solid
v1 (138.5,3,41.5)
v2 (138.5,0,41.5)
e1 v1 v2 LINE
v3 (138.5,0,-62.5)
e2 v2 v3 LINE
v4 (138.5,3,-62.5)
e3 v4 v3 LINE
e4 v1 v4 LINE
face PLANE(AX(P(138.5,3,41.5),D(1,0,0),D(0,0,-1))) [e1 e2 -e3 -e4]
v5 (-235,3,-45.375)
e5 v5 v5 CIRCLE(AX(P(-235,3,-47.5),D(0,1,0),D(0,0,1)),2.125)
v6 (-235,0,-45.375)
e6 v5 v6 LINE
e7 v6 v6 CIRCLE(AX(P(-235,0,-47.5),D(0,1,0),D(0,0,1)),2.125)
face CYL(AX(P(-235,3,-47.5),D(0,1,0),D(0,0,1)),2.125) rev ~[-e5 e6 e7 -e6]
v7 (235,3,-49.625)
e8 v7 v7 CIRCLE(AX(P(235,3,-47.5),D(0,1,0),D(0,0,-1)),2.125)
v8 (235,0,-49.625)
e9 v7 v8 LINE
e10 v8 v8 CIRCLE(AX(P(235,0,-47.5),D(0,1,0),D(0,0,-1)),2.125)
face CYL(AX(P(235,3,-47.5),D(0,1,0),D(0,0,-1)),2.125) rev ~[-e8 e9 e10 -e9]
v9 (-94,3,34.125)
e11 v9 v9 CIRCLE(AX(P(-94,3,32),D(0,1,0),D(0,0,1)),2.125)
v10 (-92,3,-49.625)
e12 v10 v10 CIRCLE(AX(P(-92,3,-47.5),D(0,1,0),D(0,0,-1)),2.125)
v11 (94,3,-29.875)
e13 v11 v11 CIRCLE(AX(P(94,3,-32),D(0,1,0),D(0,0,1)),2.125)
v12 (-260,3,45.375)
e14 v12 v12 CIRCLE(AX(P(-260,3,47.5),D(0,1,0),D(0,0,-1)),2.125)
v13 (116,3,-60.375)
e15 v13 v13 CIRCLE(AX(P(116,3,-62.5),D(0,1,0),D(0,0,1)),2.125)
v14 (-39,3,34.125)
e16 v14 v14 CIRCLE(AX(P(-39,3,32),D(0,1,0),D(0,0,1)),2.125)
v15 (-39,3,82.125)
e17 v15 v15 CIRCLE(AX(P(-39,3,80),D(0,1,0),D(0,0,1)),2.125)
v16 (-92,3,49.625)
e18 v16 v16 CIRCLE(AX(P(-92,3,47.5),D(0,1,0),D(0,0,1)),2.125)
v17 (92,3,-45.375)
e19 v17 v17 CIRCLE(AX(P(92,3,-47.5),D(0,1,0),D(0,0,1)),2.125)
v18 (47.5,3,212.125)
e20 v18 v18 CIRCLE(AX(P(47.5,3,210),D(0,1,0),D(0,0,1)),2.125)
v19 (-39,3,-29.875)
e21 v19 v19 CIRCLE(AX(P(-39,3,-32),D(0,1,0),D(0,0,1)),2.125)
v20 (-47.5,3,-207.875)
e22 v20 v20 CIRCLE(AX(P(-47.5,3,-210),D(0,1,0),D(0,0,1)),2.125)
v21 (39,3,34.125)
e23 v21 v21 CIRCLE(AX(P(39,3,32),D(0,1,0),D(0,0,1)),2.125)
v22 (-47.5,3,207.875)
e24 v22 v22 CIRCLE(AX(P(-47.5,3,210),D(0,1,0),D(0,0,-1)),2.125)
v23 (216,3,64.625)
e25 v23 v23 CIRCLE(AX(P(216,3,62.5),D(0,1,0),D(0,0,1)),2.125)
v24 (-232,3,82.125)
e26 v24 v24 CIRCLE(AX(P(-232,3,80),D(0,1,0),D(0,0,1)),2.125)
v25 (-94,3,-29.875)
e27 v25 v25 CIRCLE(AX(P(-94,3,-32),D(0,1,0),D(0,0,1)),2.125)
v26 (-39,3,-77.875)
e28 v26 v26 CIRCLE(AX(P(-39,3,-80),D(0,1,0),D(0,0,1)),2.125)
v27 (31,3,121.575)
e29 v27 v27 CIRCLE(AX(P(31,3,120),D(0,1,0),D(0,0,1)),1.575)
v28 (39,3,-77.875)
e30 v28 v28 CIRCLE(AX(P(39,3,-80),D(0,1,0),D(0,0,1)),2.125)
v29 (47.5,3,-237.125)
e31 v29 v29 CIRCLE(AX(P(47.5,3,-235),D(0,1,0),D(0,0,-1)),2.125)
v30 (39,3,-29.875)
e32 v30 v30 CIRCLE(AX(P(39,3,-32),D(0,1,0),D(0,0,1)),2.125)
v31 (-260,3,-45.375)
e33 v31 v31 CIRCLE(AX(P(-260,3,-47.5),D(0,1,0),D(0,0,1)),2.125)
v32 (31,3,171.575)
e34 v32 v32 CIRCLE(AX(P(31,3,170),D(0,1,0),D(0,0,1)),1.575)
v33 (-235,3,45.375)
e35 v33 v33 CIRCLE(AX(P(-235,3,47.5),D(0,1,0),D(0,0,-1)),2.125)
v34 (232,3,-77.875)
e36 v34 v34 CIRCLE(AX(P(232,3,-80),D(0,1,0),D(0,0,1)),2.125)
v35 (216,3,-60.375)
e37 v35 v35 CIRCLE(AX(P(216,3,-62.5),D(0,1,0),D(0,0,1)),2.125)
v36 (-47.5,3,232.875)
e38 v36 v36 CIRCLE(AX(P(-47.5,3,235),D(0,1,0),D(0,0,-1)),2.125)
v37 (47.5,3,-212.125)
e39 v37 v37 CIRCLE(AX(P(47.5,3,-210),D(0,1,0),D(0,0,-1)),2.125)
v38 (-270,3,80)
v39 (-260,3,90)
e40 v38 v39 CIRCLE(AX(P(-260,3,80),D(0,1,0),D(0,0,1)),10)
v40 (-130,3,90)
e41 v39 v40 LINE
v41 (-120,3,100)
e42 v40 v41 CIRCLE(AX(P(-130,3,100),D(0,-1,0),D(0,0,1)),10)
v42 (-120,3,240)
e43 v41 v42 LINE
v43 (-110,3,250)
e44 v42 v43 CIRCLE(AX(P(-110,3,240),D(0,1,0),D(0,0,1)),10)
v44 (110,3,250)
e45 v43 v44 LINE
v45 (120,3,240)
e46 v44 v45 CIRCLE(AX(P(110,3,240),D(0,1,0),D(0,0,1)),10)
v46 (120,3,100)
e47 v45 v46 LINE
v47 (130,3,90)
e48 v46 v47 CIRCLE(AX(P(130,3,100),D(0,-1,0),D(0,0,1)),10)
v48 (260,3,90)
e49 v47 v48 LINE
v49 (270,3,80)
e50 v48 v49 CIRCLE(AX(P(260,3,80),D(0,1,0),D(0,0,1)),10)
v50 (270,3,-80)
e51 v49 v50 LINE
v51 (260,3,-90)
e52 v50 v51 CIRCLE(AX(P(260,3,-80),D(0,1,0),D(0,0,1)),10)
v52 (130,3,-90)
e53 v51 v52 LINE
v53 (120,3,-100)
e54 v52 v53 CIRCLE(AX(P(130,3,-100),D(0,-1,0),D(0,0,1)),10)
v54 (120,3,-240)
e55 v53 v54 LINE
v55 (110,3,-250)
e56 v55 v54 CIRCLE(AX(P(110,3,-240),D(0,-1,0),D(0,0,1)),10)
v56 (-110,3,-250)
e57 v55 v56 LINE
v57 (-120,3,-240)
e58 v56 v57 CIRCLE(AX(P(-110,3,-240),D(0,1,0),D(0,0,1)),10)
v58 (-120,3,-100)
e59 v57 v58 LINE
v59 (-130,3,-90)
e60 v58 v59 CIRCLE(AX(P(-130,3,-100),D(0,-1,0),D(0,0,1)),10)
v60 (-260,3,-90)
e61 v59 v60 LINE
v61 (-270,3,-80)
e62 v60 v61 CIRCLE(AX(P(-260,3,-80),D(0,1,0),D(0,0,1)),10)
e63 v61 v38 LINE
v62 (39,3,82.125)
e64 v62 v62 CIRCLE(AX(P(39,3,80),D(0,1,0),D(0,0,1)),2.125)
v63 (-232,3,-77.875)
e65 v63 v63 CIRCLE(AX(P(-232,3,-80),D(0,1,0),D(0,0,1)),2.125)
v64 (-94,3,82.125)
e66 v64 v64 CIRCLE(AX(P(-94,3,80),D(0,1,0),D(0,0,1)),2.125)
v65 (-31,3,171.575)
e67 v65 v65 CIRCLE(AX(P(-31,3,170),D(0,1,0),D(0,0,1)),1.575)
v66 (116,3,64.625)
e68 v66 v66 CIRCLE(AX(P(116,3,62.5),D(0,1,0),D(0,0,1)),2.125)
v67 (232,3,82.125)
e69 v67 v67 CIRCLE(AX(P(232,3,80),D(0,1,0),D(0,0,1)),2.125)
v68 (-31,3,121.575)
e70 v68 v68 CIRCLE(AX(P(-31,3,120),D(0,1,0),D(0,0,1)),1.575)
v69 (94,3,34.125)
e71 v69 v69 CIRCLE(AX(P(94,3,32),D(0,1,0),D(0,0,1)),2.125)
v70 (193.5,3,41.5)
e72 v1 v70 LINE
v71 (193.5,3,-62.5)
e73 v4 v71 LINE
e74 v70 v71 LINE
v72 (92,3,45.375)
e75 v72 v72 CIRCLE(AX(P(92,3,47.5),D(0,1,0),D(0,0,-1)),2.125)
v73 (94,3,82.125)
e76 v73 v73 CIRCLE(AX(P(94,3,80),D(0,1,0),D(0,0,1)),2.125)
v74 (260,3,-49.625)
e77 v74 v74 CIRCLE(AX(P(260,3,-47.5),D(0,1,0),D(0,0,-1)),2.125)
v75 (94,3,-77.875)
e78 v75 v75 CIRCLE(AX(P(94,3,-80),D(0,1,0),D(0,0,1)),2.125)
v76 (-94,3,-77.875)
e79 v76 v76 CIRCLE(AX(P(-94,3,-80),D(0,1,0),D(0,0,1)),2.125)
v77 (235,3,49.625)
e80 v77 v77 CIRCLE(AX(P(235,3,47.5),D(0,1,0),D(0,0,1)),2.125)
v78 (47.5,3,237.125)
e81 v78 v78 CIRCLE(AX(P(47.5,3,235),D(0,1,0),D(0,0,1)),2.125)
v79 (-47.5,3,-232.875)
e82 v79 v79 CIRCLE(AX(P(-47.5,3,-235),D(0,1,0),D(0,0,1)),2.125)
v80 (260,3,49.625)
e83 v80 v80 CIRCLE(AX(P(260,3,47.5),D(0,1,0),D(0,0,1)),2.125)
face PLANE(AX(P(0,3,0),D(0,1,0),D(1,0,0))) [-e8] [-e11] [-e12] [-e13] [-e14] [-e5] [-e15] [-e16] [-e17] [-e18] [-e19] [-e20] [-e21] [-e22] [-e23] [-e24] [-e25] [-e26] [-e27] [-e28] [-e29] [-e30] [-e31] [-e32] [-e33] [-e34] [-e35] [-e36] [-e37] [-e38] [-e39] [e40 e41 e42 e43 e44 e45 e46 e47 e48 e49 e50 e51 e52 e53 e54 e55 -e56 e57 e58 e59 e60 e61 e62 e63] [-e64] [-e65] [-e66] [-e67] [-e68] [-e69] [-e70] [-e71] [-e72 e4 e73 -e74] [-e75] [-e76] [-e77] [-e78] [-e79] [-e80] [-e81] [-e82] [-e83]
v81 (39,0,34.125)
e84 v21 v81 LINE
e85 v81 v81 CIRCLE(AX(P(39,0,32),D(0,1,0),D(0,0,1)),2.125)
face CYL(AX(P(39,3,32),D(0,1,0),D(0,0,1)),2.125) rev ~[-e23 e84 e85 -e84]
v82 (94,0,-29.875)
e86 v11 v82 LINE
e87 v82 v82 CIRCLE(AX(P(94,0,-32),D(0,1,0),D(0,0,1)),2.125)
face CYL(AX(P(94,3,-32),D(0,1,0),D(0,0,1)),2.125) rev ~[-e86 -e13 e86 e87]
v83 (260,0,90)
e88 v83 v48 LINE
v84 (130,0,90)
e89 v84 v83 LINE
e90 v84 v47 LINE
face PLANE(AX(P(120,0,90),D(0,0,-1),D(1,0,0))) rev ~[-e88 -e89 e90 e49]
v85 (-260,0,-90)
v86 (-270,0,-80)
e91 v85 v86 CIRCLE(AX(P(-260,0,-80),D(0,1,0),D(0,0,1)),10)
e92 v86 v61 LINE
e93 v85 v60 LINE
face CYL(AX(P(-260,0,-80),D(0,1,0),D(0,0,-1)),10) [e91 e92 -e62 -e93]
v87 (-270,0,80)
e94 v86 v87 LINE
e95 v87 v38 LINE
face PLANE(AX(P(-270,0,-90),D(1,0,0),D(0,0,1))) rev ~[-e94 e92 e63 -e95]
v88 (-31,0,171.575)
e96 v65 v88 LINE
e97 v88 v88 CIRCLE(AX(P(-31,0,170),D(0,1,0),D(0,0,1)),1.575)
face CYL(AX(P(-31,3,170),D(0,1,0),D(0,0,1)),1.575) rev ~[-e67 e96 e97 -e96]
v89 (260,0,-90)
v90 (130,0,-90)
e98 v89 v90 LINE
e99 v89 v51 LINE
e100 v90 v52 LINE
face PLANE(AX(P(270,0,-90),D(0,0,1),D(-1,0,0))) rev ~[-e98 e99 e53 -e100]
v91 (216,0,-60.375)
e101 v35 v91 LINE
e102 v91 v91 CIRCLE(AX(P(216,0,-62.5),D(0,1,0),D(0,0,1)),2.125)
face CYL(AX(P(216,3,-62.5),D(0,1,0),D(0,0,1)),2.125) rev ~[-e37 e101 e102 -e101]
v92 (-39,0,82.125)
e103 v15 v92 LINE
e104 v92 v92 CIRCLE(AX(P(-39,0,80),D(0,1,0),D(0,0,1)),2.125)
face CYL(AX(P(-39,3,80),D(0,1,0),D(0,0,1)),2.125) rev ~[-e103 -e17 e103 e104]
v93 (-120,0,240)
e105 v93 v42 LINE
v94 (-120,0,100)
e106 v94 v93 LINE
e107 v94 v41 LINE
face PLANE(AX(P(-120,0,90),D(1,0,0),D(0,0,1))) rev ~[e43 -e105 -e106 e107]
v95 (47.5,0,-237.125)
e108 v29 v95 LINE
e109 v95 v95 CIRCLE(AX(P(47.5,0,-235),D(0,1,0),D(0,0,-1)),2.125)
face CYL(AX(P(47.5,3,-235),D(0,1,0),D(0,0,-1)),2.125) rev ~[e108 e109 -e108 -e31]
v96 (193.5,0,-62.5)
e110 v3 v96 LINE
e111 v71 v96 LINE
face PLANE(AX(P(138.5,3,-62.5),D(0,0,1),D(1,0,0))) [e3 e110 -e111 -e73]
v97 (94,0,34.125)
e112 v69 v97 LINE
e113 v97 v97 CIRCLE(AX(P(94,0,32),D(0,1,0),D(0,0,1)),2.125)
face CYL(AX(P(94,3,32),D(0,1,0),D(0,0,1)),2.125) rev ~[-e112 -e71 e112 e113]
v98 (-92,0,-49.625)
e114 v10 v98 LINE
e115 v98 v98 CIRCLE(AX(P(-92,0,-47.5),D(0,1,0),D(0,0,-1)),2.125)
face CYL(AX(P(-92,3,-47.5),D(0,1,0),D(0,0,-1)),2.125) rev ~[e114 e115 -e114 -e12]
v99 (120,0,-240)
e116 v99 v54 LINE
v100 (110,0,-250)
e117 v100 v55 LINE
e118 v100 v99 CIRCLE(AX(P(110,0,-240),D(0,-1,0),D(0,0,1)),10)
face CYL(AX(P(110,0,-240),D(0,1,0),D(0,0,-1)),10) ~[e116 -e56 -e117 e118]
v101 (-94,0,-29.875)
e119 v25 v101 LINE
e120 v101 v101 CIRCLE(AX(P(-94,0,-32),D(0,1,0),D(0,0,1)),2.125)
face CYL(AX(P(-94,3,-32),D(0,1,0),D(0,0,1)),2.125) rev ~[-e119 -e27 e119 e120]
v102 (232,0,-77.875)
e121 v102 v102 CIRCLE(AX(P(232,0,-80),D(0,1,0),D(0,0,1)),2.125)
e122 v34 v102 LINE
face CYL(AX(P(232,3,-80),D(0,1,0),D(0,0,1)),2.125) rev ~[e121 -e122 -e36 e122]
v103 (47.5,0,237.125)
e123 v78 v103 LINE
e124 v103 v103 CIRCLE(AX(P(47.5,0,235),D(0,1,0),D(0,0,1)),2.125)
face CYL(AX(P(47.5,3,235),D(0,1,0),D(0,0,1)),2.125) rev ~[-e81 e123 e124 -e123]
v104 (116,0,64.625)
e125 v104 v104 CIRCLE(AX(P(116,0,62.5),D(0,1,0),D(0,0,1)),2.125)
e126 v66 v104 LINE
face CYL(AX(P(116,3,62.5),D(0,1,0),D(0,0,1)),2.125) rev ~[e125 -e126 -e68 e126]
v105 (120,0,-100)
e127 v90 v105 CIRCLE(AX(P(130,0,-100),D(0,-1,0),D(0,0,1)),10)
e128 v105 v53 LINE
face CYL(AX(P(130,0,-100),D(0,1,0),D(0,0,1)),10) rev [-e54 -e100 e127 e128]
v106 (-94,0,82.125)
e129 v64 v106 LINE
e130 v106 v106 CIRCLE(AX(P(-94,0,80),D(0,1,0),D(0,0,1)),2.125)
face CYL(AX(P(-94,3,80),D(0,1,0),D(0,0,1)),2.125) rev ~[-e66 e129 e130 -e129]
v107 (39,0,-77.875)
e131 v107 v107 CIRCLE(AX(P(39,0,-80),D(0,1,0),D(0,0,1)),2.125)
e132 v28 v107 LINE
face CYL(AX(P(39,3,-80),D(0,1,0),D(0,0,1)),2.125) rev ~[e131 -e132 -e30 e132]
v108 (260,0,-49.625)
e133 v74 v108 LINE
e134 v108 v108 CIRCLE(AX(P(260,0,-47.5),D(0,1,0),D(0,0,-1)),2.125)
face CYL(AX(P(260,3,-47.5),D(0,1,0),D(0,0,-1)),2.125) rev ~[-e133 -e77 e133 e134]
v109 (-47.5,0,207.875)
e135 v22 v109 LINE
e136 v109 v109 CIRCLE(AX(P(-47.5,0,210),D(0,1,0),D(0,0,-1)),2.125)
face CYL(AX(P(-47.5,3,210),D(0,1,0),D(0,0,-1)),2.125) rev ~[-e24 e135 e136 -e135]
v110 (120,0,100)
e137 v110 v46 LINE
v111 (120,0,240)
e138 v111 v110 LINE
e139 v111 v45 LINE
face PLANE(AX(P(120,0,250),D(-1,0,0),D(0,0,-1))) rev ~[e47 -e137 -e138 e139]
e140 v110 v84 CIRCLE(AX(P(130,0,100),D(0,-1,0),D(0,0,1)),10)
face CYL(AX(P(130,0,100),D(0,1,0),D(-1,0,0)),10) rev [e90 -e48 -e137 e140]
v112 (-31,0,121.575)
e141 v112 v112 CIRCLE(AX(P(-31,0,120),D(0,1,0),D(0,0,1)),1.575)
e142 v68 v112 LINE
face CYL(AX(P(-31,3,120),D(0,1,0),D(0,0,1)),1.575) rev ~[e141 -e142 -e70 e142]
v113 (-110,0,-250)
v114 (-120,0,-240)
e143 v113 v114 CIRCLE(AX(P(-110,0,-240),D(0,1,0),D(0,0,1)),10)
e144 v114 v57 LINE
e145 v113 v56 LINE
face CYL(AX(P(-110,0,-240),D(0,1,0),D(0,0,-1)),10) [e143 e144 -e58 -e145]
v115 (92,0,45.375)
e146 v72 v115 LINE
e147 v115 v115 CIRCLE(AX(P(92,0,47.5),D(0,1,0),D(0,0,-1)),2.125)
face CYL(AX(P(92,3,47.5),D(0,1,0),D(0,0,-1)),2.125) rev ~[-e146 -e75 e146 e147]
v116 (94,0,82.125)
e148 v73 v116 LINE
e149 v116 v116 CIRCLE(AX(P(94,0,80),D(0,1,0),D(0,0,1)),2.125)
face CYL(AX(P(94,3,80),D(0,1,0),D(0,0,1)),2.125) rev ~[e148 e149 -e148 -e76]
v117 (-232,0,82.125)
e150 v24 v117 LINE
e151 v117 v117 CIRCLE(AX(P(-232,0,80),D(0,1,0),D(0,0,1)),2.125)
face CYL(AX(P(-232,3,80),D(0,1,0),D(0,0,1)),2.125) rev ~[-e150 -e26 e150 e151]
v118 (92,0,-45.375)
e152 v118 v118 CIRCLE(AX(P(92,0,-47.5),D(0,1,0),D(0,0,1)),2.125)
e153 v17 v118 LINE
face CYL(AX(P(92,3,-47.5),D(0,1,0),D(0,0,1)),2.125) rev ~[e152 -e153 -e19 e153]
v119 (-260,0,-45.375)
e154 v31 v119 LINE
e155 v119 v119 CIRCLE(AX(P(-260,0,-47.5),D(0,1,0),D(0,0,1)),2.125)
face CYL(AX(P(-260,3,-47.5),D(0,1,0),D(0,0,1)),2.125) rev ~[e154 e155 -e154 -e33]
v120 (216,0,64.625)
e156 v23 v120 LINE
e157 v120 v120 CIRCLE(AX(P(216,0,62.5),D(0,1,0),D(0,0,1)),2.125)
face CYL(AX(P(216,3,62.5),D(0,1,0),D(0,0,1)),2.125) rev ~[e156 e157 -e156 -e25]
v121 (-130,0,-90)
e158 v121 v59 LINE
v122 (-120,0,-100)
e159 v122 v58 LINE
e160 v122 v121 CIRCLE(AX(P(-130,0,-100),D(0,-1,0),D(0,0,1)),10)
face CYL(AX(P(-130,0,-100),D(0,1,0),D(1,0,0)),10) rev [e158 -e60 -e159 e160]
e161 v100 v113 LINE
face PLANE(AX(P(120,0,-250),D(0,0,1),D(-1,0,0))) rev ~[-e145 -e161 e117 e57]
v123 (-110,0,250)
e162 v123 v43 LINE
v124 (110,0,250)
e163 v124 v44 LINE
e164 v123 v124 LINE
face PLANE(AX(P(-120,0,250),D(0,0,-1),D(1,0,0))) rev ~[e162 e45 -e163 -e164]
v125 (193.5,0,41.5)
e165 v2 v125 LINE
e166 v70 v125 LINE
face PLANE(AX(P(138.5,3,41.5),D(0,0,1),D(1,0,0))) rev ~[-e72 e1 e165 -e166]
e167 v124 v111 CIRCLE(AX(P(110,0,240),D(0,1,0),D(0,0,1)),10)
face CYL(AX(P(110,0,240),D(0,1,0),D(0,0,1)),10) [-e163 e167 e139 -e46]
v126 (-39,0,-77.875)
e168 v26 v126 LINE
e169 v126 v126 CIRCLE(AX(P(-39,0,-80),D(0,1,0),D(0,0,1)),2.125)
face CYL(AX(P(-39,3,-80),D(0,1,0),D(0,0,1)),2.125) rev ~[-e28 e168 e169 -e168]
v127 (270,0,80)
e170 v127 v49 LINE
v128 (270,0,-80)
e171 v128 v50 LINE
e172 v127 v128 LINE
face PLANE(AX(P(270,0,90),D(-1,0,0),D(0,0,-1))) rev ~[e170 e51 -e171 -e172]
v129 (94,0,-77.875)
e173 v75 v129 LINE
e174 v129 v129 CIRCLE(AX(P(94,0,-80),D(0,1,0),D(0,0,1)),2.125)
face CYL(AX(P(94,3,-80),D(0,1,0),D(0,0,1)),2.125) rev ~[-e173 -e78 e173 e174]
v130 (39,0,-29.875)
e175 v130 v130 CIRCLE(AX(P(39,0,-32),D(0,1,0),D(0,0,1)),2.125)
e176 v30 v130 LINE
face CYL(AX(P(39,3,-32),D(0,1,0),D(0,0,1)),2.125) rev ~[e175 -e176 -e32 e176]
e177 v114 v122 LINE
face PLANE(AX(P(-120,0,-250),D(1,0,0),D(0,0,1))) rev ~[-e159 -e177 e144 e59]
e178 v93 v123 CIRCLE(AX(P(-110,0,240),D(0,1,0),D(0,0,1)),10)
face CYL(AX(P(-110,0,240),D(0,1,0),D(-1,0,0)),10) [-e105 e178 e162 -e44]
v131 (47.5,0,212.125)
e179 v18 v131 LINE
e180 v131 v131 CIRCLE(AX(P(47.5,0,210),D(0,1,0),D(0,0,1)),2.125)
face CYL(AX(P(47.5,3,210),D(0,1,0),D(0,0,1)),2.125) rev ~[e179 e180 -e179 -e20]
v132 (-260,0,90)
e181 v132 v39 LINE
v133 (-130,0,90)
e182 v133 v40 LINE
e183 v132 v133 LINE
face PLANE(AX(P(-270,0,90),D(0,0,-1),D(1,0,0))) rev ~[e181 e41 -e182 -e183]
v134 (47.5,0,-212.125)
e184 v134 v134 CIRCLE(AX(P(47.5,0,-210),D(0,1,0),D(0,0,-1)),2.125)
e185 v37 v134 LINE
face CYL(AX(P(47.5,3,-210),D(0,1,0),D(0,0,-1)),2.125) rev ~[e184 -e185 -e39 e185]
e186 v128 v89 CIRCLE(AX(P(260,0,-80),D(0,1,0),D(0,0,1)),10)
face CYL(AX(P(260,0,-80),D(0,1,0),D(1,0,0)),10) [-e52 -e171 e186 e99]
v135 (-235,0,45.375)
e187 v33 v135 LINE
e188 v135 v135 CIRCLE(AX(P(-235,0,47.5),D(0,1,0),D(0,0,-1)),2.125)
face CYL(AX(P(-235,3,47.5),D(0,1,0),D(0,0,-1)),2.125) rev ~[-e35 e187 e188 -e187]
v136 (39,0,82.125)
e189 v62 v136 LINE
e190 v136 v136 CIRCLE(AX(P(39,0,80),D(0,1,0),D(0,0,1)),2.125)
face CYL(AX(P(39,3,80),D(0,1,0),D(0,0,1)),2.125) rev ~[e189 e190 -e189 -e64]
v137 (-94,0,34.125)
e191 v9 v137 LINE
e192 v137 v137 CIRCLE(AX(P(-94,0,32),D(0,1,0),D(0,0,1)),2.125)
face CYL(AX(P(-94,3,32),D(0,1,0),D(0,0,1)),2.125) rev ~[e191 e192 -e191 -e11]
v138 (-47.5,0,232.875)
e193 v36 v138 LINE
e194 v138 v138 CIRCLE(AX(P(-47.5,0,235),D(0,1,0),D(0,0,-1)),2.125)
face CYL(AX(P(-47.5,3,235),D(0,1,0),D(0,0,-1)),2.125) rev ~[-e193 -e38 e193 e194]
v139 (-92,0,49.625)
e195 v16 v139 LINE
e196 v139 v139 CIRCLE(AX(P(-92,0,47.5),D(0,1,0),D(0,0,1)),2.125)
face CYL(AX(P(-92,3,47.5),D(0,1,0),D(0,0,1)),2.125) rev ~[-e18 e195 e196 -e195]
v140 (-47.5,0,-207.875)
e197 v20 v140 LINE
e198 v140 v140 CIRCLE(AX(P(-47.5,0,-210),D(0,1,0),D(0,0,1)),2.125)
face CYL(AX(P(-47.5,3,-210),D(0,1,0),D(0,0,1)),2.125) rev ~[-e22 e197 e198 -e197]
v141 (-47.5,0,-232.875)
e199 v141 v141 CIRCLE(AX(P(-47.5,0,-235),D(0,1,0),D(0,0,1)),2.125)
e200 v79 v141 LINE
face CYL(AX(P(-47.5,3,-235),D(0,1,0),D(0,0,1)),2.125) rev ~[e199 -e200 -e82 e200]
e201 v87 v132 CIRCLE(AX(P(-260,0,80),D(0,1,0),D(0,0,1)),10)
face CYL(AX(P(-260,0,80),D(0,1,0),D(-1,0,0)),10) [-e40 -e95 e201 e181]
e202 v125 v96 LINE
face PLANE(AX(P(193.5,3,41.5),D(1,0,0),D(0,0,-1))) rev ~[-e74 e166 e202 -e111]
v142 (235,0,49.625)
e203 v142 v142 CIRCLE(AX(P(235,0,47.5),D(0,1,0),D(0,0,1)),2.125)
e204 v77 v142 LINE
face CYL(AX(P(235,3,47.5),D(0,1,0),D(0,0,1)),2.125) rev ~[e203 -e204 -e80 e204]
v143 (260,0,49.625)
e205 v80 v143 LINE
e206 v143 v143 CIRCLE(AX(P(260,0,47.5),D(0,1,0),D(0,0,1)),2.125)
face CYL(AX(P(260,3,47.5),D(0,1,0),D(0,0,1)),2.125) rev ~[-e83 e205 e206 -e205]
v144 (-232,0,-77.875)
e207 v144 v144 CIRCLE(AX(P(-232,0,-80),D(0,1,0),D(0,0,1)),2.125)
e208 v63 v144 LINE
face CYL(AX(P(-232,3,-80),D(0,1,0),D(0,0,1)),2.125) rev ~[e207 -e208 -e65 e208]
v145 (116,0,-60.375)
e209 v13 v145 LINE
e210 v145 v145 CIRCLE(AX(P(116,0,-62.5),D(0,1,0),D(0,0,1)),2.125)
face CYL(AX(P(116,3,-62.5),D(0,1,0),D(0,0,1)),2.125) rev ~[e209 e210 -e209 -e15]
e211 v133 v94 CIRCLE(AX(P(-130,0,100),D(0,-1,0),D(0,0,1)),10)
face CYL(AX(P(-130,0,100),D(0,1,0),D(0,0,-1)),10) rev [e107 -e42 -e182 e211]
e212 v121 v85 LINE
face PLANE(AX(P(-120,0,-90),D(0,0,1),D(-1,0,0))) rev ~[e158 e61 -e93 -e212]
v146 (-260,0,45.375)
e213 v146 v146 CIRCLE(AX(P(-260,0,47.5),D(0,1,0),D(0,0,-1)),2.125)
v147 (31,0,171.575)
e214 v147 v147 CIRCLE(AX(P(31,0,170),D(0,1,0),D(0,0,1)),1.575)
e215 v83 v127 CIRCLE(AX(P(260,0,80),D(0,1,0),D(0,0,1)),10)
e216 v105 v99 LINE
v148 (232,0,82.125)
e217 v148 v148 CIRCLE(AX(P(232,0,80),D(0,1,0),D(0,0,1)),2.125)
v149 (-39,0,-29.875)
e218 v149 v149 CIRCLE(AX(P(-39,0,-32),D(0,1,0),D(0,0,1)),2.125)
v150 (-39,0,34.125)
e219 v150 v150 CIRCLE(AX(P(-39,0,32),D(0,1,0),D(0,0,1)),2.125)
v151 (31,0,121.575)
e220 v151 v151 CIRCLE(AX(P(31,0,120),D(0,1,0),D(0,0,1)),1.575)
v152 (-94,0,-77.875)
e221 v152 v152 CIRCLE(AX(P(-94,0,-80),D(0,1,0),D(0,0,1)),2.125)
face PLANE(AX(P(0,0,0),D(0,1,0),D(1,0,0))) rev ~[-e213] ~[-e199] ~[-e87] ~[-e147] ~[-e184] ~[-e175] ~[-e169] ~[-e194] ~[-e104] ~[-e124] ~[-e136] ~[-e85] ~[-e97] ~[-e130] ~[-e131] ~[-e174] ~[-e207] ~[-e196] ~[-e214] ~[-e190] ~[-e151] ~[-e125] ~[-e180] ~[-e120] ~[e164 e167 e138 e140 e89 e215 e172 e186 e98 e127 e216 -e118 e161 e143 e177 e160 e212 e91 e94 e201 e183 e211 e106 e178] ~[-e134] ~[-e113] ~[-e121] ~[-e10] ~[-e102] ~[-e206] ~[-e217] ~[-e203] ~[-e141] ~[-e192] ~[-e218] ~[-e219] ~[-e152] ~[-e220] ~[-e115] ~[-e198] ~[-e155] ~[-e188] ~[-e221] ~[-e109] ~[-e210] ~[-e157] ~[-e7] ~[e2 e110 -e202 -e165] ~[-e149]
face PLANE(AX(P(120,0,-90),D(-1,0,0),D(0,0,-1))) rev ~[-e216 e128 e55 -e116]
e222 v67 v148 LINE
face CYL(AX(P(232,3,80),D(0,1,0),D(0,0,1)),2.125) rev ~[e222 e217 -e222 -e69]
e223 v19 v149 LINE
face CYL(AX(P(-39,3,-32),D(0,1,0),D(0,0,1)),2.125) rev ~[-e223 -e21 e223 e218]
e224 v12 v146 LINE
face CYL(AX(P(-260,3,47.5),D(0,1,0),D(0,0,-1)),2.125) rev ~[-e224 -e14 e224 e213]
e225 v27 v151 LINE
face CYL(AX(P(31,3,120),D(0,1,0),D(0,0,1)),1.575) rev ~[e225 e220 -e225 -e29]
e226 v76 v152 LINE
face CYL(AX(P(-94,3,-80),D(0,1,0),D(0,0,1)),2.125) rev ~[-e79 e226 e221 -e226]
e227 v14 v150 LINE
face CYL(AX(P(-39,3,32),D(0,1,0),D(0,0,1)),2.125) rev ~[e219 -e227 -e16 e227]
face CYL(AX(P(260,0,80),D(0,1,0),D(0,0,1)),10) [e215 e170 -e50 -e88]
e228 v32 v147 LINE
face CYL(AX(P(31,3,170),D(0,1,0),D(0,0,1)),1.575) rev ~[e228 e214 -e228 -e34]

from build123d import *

# Parameters (mm, degrees)
BASE_DEPTH               = 3
FILLET1_R                = 10
SKETCH2_R                = 2.125
ARMOR_MODULE_HOLES_DEPTH = 3
SKETCH3_R                = 2.125
PLATES_FOR_GIMBAL_DEPTH  = 3
SKETCH6_R                = 2.125
SKETCH6_W                = 55
SKETCH6_H                = 104
BATTERY_MOUNT_DEPTH      = 10
SKETCH5_R                = 2.125
SUSPENSION_MOUNT_DEPTH   = 10
SKETCH7_R                = 2.125
OUTER_BOARD_MOUNT_DEPTH  = 10
SKETCH8_R                = 1.575
RFID_DEPTH               = 10


with BuildPart() as part:
    # Sketch1 → Base (new body)
    with BuildSketch(Plane(origin=(0, 0, 0), x_dir=(1, 0, 0), z_dir=(0, 1, 0))):
        Polygon((120, 250), (-120, 250), (-120, 90), (-270, 90), (-270, -90), (-120, -90), (-120, -250), (120, -250), (120, -90), (270, -90), (270, 90), (120, 90), align=None)
    extrude(amount=BASE_DEPTH)

    # Fillet1
    fillet1_edges = [part.edges().sort_by_distance(p)[0] for p in [
        (-270, 1.5, 90),
        (-270, 1.5, -90),
        (-120, 1.5, -90),
        (-120, 1.5, -250),
        (120, 1.5, -250),
        (120, 1.5, -90),
        (270, 1.5, -90),
        (270, 1.5, 90),
        (120, 1.5, 90),
        (120, 1.5, 250),
        (-120, 1.5, 250),
        (-120, 1.5, 90),
    ]]
    fillet(fillet1_edges, radius=FILLET1_R)

    # Sketch2 → Armor Module Holes (cut)
    with BuildSketch(Plane(origin=(0, 3, 0), x_dir=(1, 0, 0), z_dir=(0, 1, 0))):
        with Locations(Location((-47.5, 235, 0), (0, 0, 270))):
            Circle(SKETCH2_R)
        with Locations(Location((-47.5, 210, 0), (0, 0, 270))):
            Circle(SKETCH2_R)
        with Locations(Location((-260, 47.5, 0), (0, 0, 270))):
            Circle(SKETCH2_R)
        with Locations(Location((-235, 47.5, 0), (0, 0, 270))):
            Circle(SKETCH2_R)
        with Locations(Location((-235, -47.5, 0), (0, 0, 90))):
            Circle(SKETCH2_R)
        with Locations(Location((-260, -47.5, 0), (0, 0, 90))):
            Circle(SKETCH2_R)
        with Locations(Location((260, -47.5, 0), (0, 0, 270))):
            Circle(SKETCH2_R)
        with Locations(Location((235, -47.5, 0), (0, 0, 270))):
            Circle(SKETCH2_R)
        with Locations(Location((235, 47.5, 0), (0, 0, 90))):
            Circle(SKETCH2_R)
        with Locations(Location((260, 47.5, 0), (0, 0, 90))):
            Circle(SKETCH2_R)
        with Locations(Location((47.5, 210, 0), (0, 0, 90))):
            Circle(SKETCH2_R)
        with Locations(Location((47.5, 235, 0), (0, 0, 90))):
            Circle(SKETCH2_R)
        with Locations(Location((47.5, -235, 0), (0, 0, 270))):
            Circle(SKETCH2_R)
        with Locations(Location((47.5, -210, 0), (0, 0, 270))):
            Circle(SKETCH2_R)
        with Locations(Location((-47.5, -210, 0), (0, 0, 90))):
            Circle(SKETCH2_R)
        with Locations(Location((-47.5, -235, 0), (0, 0, 90))):
            Circle(SKETCH2_R)
    extrude(amount=-ARMOR_MODULE_HOLES_DEPTH, mode=Mode.SUBTRACT)

    # Sketch3 → Plates for Gimbal (cut)
    with BuildSketch(Plane(origin=(0, 3, 0), x_dir=(1, 0, 0), z_dir=(0, 1, 0))):
        with Locations(Location((92, 47.5, 0), (0, 0, 270))):
            Circle(SKETCH3_R)
        with Locations(Location((92, -47.5, 0), (0, 0, 90))):
            Circle(SKETCH3_R)
        with Locations(Location((-92, -47.5, 0), (0, 0, 270))):
            Circle(SKETCH3_R)
        with Locations(Location((-92, 47.5, 0), (0, 0, 90))):
            Circle(SKETCH3_R)
    extrude(amount=-PLATES_FOR_GIMBAL_DEPTH, mode=Mode.SUBTRACT)

    # Sketch6 → Battery Mount (cut)
    with BuildSketch(Plane(origin=(0, 3, 0), x_dir=(1, 0, 0), z_dir=(0, 1, 0))):
        with Locations(Location((116, -62.5, 0), (0, 0, 270))):
            Circle(SKETCH6_R)
        with Locations(Location((216, -62.5, 0), (0, 0, 270))):
            Circle(SKETCH6_R)
        with Locations(Location((216, 62.5, 0), (0, 0, 270))):
            Circle(SKETCH6_R)
        with Locations(Location((116, 62.5, 0), (0, 0, 270))):
            Circle(SKETCH6_R)
        with Locations((166, 10.5)):
            Rectangle(SKETCH6_W, SKETCH6_H)
    extrude(amount=-BATTERY_MOUNT_DEPTH, mode=Mode.SUBTRACT)

    # Sketch5 → Suspension Mount (cut)
    with BuildSketch(Plane(origin=(0, 3, 0), x_dir=(1, 0, 0), z_dir=(0, 1, 0))):
        with Locations(Location((94, -32, 0), (0, 0, 270))):
            Circle(SKETCH5_R)
        with Locations(Location((94, -80, 0), (0, 0, 270))):
            Circle(SKETCH5_R)
        with Locations(Location((39, -32, 0), (0, 0, 270))):
            Circle(SKETCH5_R)
        with Locations(Location((39, -80, 0), (0, 0, 270))):
            Circle(SKETCH5_R)
        with Locations(Location((-39, -80, 0), (0, 0, 270))):
            Circle(SKETCH5_R)
        with Locations(Location((-39, -32, 0), (0, 0, 270))):
            Circle(SKETCH5_R)
        with Locations(Location((-94, -80, 0), (0, 0, 270))):
            Circle(SKETCH5_R)
        with Locations(Location((-94, -32, 0), (0, 0, 270))):
            Circle(SKETCH5_R)
        with Locations(Location((-94, 32, 0), (0, 0, 270))):
            Circle(SKETCH5_R)
        with Locations(Location((-94, 80, 0), (0, 0, 270))):
            Circle(SKETCH5_R)
        with Locations(Location((-39, 32, 0), (0, 0, 270))):
            Circle(SKETCH5_R)
        with Locations(Location((-39, 80, 0), (0, 0, 270))):
            Circle(SKETCH5_R)
        with Locations(Location((39, 80, 0), (0, 0, 270))):
            Circle(SKETCH5_R)
        with Locations(Location((39, 32, 0), (0, 0, 270))):
            Circle(SKETCH5_R)
        with Locations(Location((94, 80, 0), (0, 0, 270))):
            Circle(SKETCH5_R)
        with Locations(Location((94, 32, 0), (0, 0, 270))):
            Circle(SKETCH5_R)
    extrude(amount=-SUSPENSION_MOUNT_DEPTH, mode=Mode.SUBTRACT)

    # Sketch7 → Outer Board Mount (cut)
    with BuildSketch(Plane(origin=(0, 3, 0), x_dir=(1, 0, 0), z_dir=(0, 1, 0))):
        with Locations(Location((-232, -80, 0), (0, 0, 270))):
            Circle(SKETCH7_R)
        with Locations(Location((-232, 80, 0), (0, 0, 270))):
            Circle(SKETCH7_R)
        with Locations(Location((232, 80, 0), (0, 0, 270))):
            Circle(SKETCH7_R)
        with Locations(Location((232, -80, 0), (0, 0, 270))):
            Circle(SKETCH7_R)
    extrude(amount=-OUTER_BOARD_MOUNT_DEPTH, mode=Mode.SUBTRACT)

    # Sketch8 → RFID (cut)
    with BuildSketch(Plane(origin=(0, 3, 0), x_dir=(1, 0, 0), z_dir=(0, 1, 0))):
        with Locations(Location((-31, -120, 0), (0, 0, 270))):
            Circle(SKETCH8_R)
        with Locations(Location((-31, -170, 0), (0, 0, 270))):
            Circle(SKETCH8_R)
        with Locations(Location((31, -170, 0), (0, 0, 270))):
            Circle(SKETCH8_R)
        with Locations(Location((31, -120, 0), (0, 0, 270))):
            Circle(SKETCH8_R)
    extrude(amount=-RFID_DEPTH, mode=Mode.SUBTRACT)


solid = part.part
